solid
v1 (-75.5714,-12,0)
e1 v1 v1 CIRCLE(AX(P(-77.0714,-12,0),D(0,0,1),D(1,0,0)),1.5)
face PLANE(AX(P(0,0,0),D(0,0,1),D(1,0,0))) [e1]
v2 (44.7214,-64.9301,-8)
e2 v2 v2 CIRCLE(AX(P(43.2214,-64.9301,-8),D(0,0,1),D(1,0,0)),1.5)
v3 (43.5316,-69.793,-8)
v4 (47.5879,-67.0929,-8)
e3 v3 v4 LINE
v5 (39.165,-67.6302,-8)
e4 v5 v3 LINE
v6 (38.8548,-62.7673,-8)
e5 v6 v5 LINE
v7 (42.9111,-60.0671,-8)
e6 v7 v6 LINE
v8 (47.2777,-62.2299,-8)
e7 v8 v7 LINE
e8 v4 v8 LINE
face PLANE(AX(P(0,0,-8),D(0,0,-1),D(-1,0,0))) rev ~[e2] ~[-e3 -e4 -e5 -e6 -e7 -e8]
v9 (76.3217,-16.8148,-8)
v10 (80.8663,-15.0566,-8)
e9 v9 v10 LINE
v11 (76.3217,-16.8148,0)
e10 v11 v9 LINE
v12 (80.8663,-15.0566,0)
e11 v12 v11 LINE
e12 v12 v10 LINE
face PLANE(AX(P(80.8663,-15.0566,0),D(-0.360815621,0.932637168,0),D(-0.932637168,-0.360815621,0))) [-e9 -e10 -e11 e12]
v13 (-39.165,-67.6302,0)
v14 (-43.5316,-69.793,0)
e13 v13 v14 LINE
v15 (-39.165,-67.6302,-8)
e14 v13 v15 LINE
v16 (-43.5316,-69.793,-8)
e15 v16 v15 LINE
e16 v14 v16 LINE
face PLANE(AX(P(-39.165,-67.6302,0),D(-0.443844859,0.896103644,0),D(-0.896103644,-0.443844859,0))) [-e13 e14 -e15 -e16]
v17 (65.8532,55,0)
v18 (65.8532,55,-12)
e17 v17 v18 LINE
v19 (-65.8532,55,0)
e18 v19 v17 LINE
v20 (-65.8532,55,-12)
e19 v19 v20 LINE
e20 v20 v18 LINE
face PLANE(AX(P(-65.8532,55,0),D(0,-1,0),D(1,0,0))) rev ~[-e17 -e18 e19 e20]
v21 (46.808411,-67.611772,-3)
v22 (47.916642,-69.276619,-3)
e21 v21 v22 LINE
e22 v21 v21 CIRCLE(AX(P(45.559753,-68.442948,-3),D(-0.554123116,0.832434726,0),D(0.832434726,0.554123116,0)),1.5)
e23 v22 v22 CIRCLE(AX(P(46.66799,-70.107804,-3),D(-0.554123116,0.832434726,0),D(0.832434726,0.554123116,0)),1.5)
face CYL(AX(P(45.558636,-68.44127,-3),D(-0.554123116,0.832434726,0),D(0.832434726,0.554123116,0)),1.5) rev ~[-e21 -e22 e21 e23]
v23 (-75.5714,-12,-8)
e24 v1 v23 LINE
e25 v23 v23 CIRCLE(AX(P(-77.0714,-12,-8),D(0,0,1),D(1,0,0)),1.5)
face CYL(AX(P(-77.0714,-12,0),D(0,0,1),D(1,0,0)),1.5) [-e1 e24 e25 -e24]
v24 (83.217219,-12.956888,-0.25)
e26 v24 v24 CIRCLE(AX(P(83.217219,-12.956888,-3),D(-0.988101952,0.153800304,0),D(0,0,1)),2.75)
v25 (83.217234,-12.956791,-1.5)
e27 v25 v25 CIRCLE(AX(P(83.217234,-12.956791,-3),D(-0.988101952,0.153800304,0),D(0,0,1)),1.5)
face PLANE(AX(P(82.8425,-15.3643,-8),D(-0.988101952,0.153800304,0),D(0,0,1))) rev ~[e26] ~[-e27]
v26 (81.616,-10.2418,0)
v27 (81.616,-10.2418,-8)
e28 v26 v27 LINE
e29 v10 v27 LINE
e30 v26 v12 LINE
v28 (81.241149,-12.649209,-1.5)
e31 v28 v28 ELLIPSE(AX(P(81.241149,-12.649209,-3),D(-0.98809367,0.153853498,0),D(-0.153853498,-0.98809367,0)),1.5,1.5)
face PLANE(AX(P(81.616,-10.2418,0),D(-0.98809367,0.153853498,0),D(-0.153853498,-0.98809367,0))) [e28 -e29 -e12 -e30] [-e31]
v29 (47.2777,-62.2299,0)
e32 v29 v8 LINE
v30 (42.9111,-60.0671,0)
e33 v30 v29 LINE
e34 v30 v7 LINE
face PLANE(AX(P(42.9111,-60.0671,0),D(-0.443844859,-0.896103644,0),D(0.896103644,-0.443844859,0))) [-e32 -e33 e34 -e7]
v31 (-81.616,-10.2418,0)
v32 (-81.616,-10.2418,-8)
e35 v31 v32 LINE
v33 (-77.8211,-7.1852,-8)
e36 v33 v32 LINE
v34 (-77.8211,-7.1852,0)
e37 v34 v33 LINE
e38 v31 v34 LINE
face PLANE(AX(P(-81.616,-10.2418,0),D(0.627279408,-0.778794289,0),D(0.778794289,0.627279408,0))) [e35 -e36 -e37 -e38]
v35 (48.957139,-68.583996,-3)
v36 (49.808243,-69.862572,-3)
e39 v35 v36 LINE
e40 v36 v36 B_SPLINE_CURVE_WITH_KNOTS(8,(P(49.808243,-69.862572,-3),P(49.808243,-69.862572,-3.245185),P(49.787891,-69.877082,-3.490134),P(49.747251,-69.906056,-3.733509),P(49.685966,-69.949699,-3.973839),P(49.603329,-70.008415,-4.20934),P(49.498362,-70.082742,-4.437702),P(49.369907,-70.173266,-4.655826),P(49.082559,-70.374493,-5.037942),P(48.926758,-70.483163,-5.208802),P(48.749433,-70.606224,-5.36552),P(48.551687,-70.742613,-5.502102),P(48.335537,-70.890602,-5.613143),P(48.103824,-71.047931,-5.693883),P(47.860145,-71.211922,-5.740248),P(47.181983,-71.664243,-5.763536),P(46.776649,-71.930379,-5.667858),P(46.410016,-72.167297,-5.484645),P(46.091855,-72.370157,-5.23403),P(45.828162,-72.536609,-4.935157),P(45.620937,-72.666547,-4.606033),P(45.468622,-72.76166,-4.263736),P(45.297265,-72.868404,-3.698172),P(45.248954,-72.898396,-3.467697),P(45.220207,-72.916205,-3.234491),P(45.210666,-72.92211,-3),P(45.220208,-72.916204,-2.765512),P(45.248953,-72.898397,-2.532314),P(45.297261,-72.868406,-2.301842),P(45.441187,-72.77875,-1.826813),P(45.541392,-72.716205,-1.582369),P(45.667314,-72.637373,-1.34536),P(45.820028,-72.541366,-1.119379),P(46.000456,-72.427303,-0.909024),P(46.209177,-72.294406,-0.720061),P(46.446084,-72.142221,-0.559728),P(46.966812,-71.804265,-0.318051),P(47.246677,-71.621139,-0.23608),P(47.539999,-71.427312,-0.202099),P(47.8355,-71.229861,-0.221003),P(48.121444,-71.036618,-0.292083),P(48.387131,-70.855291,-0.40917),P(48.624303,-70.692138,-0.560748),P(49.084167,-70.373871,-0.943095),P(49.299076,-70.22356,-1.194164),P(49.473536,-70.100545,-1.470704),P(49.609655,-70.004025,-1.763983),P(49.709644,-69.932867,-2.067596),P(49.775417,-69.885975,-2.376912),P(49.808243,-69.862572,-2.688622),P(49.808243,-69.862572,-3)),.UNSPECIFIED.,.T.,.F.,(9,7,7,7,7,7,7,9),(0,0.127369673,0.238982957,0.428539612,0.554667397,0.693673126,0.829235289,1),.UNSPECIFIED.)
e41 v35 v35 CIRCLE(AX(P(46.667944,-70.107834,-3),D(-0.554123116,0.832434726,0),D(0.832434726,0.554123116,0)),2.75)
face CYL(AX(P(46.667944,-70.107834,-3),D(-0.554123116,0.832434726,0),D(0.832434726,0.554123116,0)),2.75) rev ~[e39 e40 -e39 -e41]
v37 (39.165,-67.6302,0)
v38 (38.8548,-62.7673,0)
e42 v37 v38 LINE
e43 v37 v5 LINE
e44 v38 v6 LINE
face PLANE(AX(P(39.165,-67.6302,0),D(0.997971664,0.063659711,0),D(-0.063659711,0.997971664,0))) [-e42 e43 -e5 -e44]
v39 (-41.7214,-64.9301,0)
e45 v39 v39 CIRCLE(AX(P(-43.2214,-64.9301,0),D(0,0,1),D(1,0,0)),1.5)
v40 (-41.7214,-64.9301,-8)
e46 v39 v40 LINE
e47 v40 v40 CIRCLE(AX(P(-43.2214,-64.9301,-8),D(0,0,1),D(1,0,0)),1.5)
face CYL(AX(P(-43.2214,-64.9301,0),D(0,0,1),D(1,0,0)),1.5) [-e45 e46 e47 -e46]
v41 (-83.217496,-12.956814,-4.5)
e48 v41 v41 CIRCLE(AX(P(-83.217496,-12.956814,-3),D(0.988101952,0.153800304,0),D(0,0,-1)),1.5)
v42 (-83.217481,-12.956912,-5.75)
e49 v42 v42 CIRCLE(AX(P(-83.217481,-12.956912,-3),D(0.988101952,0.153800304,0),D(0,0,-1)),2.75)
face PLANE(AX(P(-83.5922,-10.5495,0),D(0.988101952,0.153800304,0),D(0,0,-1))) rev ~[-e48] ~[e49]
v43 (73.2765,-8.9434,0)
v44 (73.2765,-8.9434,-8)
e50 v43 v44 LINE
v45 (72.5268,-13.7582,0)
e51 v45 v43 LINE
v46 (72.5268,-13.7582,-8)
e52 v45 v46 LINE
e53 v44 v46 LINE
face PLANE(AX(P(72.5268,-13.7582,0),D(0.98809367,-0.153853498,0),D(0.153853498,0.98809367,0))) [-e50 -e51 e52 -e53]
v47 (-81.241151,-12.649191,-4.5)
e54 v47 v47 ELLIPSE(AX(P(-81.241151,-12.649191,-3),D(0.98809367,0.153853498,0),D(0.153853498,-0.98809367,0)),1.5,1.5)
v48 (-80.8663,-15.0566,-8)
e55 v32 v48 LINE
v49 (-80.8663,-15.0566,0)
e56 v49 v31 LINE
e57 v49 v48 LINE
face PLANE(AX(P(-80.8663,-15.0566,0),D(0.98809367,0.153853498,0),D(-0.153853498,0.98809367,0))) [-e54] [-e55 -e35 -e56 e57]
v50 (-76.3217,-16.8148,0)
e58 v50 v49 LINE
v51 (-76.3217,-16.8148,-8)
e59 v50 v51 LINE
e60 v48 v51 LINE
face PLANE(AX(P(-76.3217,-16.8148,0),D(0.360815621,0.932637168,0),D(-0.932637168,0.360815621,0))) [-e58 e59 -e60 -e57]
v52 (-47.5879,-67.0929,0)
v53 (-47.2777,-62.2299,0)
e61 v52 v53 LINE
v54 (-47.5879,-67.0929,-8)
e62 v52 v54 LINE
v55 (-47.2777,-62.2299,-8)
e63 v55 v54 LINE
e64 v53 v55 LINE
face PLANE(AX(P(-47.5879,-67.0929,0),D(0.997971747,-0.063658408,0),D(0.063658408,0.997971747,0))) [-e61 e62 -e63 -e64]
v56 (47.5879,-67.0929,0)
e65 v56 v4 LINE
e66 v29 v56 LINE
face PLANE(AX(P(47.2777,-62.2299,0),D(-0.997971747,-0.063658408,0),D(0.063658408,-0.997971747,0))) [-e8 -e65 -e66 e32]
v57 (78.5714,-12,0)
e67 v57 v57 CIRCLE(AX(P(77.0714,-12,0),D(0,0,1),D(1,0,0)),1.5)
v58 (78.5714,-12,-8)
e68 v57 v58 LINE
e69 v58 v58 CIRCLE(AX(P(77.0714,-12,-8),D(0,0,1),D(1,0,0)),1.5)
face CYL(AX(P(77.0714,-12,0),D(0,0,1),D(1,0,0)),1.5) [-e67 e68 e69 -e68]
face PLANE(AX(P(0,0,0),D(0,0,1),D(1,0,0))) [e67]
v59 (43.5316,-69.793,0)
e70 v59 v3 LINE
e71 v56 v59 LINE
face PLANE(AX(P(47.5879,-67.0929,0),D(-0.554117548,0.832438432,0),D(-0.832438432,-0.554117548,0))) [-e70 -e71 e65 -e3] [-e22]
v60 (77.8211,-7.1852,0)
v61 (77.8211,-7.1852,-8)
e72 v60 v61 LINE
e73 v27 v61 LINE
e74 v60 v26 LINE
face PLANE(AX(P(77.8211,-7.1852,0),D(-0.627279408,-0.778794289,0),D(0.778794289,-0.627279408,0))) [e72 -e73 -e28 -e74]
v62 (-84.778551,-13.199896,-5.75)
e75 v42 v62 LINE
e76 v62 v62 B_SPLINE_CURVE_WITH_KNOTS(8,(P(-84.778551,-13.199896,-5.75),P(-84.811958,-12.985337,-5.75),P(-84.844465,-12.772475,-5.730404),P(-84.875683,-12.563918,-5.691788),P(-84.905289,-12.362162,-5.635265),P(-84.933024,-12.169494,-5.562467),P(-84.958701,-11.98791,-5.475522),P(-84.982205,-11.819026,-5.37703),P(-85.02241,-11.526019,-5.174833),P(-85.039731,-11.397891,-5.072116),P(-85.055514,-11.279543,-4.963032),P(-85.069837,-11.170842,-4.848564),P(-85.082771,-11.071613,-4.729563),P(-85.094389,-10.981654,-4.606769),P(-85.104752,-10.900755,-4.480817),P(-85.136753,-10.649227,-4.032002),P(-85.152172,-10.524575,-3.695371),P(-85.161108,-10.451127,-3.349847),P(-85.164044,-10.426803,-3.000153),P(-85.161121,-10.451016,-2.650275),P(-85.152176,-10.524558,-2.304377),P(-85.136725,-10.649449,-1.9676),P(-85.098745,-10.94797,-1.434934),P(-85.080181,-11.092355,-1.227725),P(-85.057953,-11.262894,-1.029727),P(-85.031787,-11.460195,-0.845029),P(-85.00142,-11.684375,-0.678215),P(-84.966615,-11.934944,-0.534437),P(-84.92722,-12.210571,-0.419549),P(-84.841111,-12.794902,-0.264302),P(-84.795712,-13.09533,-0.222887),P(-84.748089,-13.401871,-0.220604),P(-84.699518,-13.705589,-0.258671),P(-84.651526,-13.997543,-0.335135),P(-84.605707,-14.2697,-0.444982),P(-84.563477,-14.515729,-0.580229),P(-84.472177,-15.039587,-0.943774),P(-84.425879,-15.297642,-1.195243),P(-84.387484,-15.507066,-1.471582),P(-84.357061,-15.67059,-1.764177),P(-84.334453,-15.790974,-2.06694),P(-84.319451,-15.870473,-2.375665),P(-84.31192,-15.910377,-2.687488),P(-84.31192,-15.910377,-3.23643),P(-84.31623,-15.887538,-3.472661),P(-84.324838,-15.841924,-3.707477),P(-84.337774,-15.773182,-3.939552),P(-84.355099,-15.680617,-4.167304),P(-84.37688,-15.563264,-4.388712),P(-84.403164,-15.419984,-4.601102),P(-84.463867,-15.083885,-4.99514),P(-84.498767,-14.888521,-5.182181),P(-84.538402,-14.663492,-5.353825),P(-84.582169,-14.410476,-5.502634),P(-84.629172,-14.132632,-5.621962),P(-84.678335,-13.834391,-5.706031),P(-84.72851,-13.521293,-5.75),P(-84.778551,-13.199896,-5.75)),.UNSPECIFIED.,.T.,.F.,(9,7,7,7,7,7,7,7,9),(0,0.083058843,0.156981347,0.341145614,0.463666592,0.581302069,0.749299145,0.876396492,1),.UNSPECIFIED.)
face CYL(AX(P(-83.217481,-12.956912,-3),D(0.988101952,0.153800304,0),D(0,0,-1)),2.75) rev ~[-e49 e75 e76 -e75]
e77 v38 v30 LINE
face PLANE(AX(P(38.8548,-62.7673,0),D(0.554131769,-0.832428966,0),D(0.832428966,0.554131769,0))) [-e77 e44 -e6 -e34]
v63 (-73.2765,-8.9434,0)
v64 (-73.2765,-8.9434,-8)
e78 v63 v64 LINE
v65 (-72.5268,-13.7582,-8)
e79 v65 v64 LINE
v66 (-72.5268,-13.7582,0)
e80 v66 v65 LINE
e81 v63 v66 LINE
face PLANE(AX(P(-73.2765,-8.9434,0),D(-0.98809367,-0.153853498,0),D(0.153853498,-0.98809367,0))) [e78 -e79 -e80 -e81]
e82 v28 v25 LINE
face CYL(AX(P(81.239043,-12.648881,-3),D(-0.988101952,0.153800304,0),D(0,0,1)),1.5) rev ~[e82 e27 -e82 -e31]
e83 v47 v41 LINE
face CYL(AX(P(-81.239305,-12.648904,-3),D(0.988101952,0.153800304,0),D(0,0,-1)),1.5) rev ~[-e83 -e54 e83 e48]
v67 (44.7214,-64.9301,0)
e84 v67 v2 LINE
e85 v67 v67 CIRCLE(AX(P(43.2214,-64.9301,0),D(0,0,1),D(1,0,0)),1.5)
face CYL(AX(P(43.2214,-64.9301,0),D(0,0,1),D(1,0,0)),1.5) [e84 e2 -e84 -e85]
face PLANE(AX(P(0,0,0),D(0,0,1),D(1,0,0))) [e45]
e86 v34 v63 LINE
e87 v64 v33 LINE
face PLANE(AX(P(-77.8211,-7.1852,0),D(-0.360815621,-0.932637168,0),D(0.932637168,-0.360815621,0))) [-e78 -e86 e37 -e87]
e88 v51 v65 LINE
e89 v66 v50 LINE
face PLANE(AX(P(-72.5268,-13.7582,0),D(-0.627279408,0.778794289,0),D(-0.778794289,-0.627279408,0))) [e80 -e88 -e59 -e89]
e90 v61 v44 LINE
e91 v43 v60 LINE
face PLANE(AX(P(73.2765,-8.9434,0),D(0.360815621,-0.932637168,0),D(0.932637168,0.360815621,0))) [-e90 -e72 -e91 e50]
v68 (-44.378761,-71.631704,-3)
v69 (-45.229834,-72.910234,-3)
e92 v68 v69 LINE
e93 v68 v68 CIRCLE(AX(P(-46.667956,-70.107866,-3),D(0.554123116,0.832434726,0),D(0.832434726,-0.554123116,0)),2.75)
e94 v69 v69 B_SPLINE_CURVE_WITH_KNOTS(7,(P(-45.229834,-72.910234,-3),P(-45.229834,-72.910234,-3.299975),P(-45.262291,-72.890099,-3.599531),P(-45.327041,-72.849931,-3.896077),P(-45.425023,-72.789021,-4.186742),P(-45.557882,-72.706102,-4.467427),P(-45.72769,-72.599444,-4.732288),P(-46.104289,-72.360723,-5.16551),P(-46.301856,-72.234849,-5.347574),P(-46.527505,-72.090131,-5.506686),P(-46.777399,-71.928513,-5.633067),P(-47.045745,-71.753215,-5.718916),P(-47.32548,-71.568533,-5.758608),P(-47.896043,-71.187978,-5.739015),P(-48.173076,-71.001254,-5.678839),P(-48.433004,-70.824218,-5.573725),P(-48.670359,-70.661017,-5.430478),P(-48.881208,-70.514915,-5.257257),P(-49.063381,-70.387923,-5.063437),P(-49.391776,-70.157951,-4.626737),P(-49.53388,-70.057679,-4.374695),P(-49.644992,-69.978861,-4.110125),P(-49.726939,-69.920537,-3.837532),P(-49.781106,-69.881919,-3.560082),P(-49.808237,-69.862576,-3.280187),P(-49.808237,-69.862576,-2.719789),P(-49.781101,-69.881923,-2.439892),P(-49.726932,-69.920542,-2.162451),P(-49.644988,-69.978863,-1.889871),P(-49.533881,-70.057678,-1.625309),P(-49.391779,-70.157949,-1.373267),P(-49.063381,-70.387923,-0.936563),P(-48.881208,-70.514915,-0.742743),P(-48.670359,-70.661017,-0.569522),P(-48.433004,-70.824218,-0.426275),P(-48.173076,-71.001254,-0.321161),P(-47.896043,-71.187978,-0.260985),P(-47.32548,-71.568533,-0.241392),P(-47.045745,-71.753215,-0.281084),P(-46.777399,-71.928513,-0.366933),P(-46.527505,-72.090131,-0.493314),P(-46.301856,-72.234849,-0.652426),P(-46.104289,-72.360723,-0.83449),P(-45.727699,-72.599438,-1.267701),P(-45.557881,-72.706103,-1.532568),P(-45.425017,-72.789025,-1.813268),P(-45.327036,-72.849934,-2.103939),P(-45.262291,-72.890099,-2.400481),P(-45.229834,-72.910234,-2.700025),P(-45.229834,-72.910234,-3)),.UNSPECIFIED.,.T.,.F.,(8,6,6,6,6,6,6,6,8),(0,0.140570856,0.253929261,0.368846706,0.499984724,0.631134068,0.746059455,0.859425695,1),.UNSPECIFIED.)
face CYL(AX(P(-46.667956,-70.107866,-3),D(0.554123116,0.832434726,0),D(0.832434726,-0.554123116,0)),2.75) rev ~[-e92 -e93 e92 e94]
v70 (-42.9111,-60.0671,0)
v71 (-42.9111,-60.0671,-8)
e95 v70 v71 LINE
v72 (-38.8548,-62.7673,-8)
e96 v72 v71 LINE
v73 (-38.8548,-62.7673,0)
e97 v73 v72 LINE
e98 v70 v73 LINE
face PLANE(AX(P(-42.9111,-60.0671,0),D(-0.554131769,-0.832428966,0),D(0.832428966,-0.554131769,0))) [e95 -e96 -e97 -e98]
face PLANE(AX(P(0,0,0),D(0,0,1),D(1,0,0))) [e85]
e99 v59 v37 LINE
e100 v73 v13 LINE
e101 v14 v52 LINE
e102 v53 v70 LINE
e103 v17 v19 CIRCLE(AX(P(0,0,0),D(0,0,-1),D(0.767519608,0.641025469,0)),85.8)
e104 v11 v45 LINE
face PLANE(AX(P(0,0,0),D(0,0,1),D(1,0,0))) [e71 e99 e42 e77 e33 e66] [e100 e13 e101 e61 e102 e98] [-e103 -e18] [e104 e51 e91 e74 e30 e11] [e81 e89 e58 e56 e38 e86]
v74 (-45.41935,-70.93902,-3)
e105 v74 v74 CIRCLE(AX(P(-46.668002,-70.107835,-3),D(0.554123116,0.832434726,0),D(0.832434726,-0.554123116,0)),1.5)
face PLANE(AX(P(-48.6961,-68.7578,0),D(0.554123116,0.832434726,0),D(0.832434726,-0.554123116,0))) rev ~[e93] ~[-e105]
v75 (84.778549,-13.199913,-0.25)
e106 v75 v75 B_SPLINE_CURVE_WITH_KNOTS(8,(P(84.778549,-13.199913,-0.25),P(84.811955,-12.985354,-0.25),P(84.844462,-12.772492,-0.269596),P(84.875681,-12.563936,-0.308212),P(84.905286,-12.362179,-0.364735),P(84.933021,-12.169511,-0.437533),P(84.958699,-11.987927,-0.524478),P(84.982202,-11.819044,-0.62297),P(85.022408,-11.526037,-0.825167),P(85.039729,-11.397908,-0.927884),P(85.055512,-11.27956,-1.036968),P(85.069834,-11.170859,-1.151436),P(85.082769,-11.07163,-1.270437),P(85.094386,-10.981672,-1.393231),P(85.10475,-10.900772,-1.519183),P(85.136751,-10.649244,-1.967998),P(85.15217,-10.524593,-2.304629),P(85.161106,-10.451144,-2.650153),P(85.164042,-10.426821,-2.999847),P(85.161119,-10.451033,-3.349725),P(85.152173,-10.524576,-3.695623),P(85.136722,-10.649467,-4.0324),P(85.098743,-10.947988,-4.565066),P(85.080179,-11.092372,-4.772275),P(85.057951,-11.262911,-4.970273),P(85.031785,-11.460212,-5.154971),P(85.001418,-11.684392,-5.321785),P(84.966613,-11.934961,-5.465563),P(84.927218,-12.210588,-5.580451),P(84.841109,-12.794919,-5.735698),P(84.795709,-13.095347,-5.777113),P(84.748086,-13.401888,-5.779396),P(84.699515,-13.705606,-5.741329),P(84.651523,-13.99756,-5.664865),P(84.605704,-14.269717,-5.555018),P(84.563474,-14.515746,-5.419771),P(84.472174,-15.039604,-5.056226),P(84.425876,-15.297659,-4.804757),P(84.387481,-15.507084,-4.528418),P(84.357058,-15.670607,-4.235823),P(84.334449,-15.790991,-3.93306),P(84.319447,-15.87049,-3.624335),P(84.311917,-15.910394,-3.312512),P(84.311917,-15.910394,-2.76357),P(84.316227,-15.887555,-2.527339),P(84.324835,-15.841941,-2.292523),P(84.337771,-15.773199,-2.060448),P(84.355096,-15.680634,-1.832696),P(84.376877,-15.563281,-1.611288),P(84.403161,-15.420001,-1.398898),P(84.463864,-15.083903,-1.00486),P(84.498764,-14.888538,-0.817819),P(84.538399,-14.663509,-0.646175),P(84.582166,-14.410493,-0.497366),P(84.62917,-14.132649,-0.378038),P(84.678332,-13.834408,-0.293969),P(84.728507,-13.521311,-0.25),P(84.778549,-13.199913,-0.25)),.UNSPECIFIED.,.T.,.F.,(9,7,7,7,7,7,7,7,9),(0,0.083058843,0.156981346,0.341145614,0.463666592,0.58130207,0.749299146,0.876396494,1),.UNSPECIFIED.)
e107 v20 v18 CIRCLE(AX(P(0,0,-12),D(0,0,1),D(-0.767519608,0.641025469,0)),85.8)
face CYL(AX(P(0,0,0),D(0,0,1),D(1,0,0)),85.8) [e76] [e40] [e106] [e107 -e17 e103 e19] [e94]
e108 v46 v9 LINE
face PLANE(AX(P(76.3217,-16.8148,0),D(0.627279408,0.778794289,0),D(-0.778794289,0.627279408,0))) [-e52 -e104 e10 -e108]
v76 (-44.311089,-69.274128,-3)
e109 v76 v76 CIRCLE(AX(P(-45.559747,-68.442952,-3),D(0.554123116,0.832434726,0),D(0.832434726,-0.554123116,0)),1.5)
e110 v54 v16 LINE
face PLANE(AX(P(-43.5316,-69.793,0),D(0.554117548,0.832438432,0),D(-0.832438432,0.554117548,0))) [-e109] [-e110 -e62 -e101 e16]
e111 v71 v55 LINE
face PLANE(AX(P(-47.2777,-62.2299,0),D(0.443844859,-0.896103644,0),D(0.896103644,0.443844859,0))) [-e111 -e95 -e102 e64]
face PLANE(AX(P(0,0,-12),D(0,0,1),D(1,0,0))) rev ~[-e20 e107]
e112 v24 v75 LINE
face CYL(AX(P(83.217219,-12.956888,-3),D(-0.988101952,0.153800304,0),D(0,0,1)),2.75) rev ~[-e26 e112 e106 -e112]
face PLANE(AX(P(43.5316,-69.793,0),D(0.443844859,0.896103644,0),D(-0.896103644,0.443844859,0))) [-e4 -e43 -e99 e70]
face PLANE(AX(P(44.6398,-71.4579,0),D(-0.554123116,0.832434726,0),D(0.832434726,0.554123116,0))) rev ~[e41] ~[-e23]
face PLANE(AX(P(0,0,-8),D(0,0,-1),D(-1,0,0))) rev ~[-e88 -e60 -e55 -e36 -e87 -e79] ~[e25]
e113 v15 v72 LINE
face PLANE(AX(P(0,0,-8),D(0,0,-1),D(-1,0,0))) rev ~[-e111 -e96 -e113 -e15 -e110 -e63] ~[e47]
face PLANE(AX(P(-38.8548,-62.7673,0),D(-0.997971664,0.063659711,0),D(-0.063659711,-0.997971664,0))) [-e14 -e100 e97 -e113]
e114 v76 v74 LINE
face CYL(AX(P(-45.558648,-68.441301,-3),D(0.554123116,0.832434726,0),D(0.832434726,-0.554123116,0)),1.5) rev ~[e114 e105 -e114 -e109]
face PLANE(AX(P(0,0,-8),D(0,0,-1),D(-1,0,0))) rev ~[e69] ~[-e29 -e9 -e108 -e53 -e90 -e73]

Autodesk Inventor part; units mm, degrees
sketch "Sketch1" plane through (0, 0, 0) normal (0, 0, 1) x (1, 0, 0)
  circle A0 centre (0, 0) radius 85.8
  line L0 (-72.5268, -13.7582) -> (-76.3217, -16.8148)
  line L1 (-76.3217, -16.8148) -> (-80.8663, -15.0566)
  line L2 (-80.8663, -15.0566) -> (-81.616, -10.2418)
  line L3 (-81.616, -10.2418) -> (-77.8211, -7.1852)
  line L4 (-77.8211, -7.1852) -> (-73.2765, -8.9434)
  line L5 (-73.2765, -8.9434) -> (-72.5268, -13.7582)
  line L6 (73.2765, -8.9434) -> (77.8211, -7.1852)
  line L7 (77.8211, -7.1852) -> (81.616, -10.2418)
  line L8 (81.616, -10.2418) -> (80.8663, -15.0566)
  line L9 (80.8663, -15.0566) -> (76.3217, -16.8148)
  line L10 (76.3217, -16.8148) -> (72.5268, -13.7582)
  line L11 (72.5268, -13.7582) -> (73.2765, -8.9434)
  line L12 (-77.0714, -12) -> (0, 0) construction
  line L13 (77.0714, -12) -> (0, 0) construction
  line L14 (0, 0) -> (85.8, 0) construction
  line L15 (47.5879, -67.0929) -> (43.5316, -69.793)
  line L16 (47.2777, -62.2299) -> (47.5879, -67.0929)
  line L17 (42.9111, -60.0671) -> (47.2777, -62.2299)
  line L18 (38.8548, -62.7673) -> (42.9111, -60.0671)
  line L19 (39.165, -67.6302) -> (38.8548, -62.7673)
  line L20 (43.5316, -69.793) -> (39.165, -67.6302)
  line L21 (-47.2777, -62.2299) -> (-42.9111, -60.0671)
  line L22 (-42.9111, -60.0671) -> (-38.8548, -62.7673)
  line L23 (-38.8548, -62.7673) -> (-39.165, -67.6302)
  line L24 (-39.165, -67.6302) -> (-43.5316, -69.793)
  line L25 (-43.5316, -69.793) -> (-47.5879, -67.0929)
  line L26 (-47.5879, -67.0929) -> (-47.2777, -62.2299)
  line L27 (-65.8532, 55) -> (65.8532, 55)
  circle A1 centre (77.0714, -12) radius 1.5
  circle A2 centre (43.2214, -64.9301) radius 1.5
  circle A3 centre (-43.2214, -64.9301) radius 1.5
  circle A4 centre (-77.0714, -12) radius 1.5
  dimension "d0" = 171.6
  dimension "d1" = 78
  dimension "d2" = 78
  dimension "d5" = 12
  dimension "d6" = 4.22
  dimension "d7" = 4.22
  dimension "d10" = 12
  dimension "d13" = 47.5
  dimension "d17" = 47.5
  dimension "d19" = 55
  dimension "d81" = 3
  dimension "d82" = 3
  dimension "d83" = 3
  dimension "d84" = 3
extrude "Extrusion1" add sketch "Sketch1" against normal blind 12 contours A0 L27 | A1 | A2 | A3 | A4 picked at (21.9511, 12.3711)
sketch "Sketch2" plane through (0, 0, -12) normal (0, 0, -1) x (-1, 0, 0)
  arc A0 (-65.8532, 55) -> (65.8532, 55) centre (0, 0) ccw projected
  line L0 (65.8532, 55) -> (-65.8532, 55) projected
  line L1 (76.3217, -16.8148) -> (72.5268, -13.7582) projected
  line L2 (72.5268, -13.7582) -> (73.2765, -8.9434) projected
  line L3 (73.2765, -8.9434) -> (77.8211, -7.1852) projected
  line L4 (77.8211, -7.1852) -> (81.616, -10.2418) projected
  line L5 (81.616, -10.2418) -> (80.8663, -15.0566) projected
  line L6 (80.8663, -15.0566) -> (76.3217, -16.8148) projected
  line L7 (-77.8211, -7.1852) -> (-73.2765, -8.9434) projected
  line L8 (-73.2765, -8.9434) -> (-72.5268, -13.7582) projected
  line L9 (-72.5268, -13.7582) -> (-76.3217, -16.8148) projected
  line L10 (-76.3217, -16.8148) -> (-80.8663, -15.0566) projected
  line L11 (-80.8663, -15.0566) -> (-81.616, -10.2418) projected
  line L12 (-81.616, -10.2418) -> (-77.8211, -7.1852) projected
  line L13 (-43.5316, -69.793) -> (-47.5879, -67.0929) projected
  line L14 (-47.5879, -67.0929) -> (-47.2777, -62.2299) projected
  line L15 (-47.2777, -62.2299) -> (-42.9111, -60.0671) projected
  line L16 (-42.9111, -60.0671) -> (-38.8548, -62.7673) projected
  line L17 (-38.8548, -62.7673) -> (-39.165, -67.6302) projected
  line L18 (-39.165, -67.6302) -> (-43.5316, -69.793) projected
  line L19 (42.9111, -60.0671) -> (47.2777, -62.2299) projected
  line L20 (47.2777, -62.2299) -> (47.5879, -67.0929) projected
  line L21 (47.5879, -67.0929) -> (43.5316, -69.793) projected
  line L22 (43.5316, -69.793) -> (39.165, -67.6302) projected
  line L23 (39.165, -67.6302) -> (38.8548, -62.7673) projected
  line L24 (38.8548, -62.7673) -> (42.9111, -60.0671) projected
extrude "Extrusion2" add sketch "Sketch2" against normal blind 4 contours L1 L2 L3 L4 L5 L6 | L7 L8 L9 L10 L11 L12 | L13 L14 L15 L16 L17 L18 | L19 L20 L21 L22 L23 L24
sketch "Sketch3" plane through (80.8663, -15.0566, -8) normal (-0.9881, 0.1538, 0) x (0, 0, 1)
  line L0 (0, 4.8728) -> (0, 0) projected
  line L1 (8, 0) -> (0, 0) projected
  line L2 (8, 4.8728) -> (8, 0) projected
  line L3 (8, 4.8728) -> (0, 4.8728) projected
  circle A0 centre (5, 2.4364) radius 1.5
  point P0 (8, 2.4364)
  dimension "d24" = 3
  dimension "d26" = 5
  dimension "d27" = 2.4364
extrude "Extrusion3" cut sketch "Sketch3" against normal blind 5 contours A0
sketch "Sketch4" plane through (43.5316, -69.793, 0) normal (-0.5541, 0.8324, 0) x (0.8324, 0.5541, 0)
  line L0 (4.8728, 8) -> (0, 8) projected
  line L1 (0, 0) -> (0, 8) projected
  line L2 (4.8728, 0) -> (0, 0) projected
  line L3 (4.8728, 0) -> (4.8728, 8) projected
  circle A0 centre (2.4364, 3) radius 1.5
  point P0 (2.4364, 0)
  dimension "d30" = 3
  dimension "d31" = 5
  dimension "d32" = 2.4364
extrude "Extrusion4" cut sketch "Sketch4" against normal blind 5 contours A0
sketch "Sketch5" plane through (-47.5879, -67.0929, 0) normal (0.5541, 0.8324, 0) x (0.8324, -0.5541, 0)
  line L0 (4.8728, 8) -> (0, 8) projected
  line L1 (0, 0) -> (0, 8) projected
  line L2 (4.8728, 0) -> (0, 0) projected
  line L3 (4.8728, 0) -> (4.8728, 8) projected
  circle A0 centre (2.4364, 3) radius 1.5
  point P0 (2.4364, 0)
  dimension "d35" = 3
  dimension "d36" = 2.4364
  dimension "d37" = 5
extrude "Extrusion5" cut sketch "Sketch5" against normal blind 5 contours A0
sketch "Sketch6" plane through (-81.616, -10.2418, 0) normal (0.9881, 0.1538, 0) x (0, 0, -1)
  line L0 (8, -4.8728) -> (8, 0) projected
  line L1 (0, 0) -> (8, 0) projected
  line L2 (0, -4.8728) -> (0, 0) projected
  line L3 (0, -4.8728) -> (8, -4.8728) projected
  circle A0 centre (3, -2.4364) radius 1.5
  point P0 (0, -2.4364)
  dimension "d40" = 3
  dimension "d41" = 2.4364
  dimension "d42" = 5
extrude "Extrusion6" cut sketch "Sketch6" against normal blind 5 contours A0
ref_plane "Work Plane1" through (82.8425, -15.3643, -8) normal (-0.9881, 0.1538, 0) x (0, 0, 1)
sketch "Sketch7" plane through (82.8425, -15.3643, -8) normal (-0.9881, 0.1538, 0) x (0, 0, 1)
  circle A0 centre (5, 2.4364) radius 1.5 projected
  circle A1 centre (5, 2.4364) radius 2.75
  point P0 (8, 2.4364)
  dimension "d46" = 5.5
extrude "Extrusion7" cut sketch "Sketch7" against normal up to surface contours A0 | A1
ref_plane "Work Plane2" through (44.6398, -71.4579, 0) normal (-0.5541, 0.8324, 0) x (0.8324, 0.5541, 0)
sketch "Sketch8" plane through (44.6398, -71.4579, 0) normal (-0.5541, 0.8324, 0) x (0.8324, 0.5541, 0)
  circle A0 centre (2.4364, 3) radius 1.5 projected
  circle A1 centre (2.4364, 3) radius 2.75
  point P0 (2.4364, 0)
  dimension "d50" = 5.5
extrude "Extrusion8" cut sketch "Sketch8" against normal up to surface contours A0 | A1
ref_plane "Work Plane3" through (-48.6961, -68.7578, 0) normal (0.5541, 0.8324, 0) x (0.8324, -0.5541, 0)
sketch "Sketch9" plane through (-48.6961, -68.7578, 0) normal (0.5541, 0.8324, 0) x (0.8324, -0.5541, 0)
  circle A0 centre (2.4364, 3) radius 1.5 projected
  circle A1 centre (2.4364, 3) radius 2.75
  point P0 (2.4364, 0)
  dimension "d54" = 5.5
extrude "Extrusion9" cut sketch "Sketch9" against normal up to surface contours A0 | A1
ref_plane "Work Plane4" through (-83.5922, -10.5495, 0) normal (0.9881, 0.1538, 0) x (0, 0, -1)
sketch "Sketch10" plane through (-83.5922, -10.5495, 0) normal (0.9881, 0.1538, 0) x (0, 0, -1)
  circle A0 centre (3, -2.4364) radius 1.5 projected
  circle A1 centre (3, -2.4364) radius 2.75
  point P0 (0, -2.4364)
  dimension "d58" = 5.5
extrude "Extrusion10" cut sketch "Sketch10" against normal up to surface contours A0 | A1
sketch "Sketch11" plane through (0, 0, -12) normal (0, 0, -1) x (-1, 0, 0)
  line L0 (75.3409, 34.7165) -> (17.3409, 34.7165) construction
  line L1 (17.3409, 34.7165) -> (17.3409, -14.2835) construction
  line L2 (17.3409, -14.2835) -> (75.3409, -14.2835) construction
  line L3 (75.3409, -14.2835) -> (75.3409, 34.7165) construction
  circle A0 centre (75.3409, 34.7165) radius 1.5
  circle A1 centre (75.3409, -14.2835) radius 1.5
  circle A2 centre (17.3409, 34.7165) radius 1.5
  circle A3 centre (17.3409, -14.2835) radius 1.5
  line L4 (59.7604, -34.3641) -> (1.7604, -34.3641) construction
  line L5 (1.7604, -34.3641) -> (1.7604, -57.3641) construction
  line L6 (1.7604, -57.3641) -> (59.7604, -57.3641) construction
  line L7 (59.7604, -57.3641) -> (59.7604, -34.3641) construction
  circle A4 centre (59.7604, -34.3641) radius 1.5
  circle A5 centre (59.7604, -57.3641) radius 1.5
  circle A6 centre (1.7604, -57.3641) radius 1.5
  circle A7 centre (1.7604, -34.3641) radius 1.5
  dimension "d69" = 58
  dimension "d70" = 49
  dimension "d71" = 3
  dimension "d72" = 3
  dimension "d73" = 3
  dimension "d74" = 3
  dimension "d75" = 58
  dimension "d76" = 23
  dimension "d77" = 3
  dimension "d78" = 3
  dimension "d79" = 3
  dimension "d80" = 3
properties part number "plate_third_floor"
